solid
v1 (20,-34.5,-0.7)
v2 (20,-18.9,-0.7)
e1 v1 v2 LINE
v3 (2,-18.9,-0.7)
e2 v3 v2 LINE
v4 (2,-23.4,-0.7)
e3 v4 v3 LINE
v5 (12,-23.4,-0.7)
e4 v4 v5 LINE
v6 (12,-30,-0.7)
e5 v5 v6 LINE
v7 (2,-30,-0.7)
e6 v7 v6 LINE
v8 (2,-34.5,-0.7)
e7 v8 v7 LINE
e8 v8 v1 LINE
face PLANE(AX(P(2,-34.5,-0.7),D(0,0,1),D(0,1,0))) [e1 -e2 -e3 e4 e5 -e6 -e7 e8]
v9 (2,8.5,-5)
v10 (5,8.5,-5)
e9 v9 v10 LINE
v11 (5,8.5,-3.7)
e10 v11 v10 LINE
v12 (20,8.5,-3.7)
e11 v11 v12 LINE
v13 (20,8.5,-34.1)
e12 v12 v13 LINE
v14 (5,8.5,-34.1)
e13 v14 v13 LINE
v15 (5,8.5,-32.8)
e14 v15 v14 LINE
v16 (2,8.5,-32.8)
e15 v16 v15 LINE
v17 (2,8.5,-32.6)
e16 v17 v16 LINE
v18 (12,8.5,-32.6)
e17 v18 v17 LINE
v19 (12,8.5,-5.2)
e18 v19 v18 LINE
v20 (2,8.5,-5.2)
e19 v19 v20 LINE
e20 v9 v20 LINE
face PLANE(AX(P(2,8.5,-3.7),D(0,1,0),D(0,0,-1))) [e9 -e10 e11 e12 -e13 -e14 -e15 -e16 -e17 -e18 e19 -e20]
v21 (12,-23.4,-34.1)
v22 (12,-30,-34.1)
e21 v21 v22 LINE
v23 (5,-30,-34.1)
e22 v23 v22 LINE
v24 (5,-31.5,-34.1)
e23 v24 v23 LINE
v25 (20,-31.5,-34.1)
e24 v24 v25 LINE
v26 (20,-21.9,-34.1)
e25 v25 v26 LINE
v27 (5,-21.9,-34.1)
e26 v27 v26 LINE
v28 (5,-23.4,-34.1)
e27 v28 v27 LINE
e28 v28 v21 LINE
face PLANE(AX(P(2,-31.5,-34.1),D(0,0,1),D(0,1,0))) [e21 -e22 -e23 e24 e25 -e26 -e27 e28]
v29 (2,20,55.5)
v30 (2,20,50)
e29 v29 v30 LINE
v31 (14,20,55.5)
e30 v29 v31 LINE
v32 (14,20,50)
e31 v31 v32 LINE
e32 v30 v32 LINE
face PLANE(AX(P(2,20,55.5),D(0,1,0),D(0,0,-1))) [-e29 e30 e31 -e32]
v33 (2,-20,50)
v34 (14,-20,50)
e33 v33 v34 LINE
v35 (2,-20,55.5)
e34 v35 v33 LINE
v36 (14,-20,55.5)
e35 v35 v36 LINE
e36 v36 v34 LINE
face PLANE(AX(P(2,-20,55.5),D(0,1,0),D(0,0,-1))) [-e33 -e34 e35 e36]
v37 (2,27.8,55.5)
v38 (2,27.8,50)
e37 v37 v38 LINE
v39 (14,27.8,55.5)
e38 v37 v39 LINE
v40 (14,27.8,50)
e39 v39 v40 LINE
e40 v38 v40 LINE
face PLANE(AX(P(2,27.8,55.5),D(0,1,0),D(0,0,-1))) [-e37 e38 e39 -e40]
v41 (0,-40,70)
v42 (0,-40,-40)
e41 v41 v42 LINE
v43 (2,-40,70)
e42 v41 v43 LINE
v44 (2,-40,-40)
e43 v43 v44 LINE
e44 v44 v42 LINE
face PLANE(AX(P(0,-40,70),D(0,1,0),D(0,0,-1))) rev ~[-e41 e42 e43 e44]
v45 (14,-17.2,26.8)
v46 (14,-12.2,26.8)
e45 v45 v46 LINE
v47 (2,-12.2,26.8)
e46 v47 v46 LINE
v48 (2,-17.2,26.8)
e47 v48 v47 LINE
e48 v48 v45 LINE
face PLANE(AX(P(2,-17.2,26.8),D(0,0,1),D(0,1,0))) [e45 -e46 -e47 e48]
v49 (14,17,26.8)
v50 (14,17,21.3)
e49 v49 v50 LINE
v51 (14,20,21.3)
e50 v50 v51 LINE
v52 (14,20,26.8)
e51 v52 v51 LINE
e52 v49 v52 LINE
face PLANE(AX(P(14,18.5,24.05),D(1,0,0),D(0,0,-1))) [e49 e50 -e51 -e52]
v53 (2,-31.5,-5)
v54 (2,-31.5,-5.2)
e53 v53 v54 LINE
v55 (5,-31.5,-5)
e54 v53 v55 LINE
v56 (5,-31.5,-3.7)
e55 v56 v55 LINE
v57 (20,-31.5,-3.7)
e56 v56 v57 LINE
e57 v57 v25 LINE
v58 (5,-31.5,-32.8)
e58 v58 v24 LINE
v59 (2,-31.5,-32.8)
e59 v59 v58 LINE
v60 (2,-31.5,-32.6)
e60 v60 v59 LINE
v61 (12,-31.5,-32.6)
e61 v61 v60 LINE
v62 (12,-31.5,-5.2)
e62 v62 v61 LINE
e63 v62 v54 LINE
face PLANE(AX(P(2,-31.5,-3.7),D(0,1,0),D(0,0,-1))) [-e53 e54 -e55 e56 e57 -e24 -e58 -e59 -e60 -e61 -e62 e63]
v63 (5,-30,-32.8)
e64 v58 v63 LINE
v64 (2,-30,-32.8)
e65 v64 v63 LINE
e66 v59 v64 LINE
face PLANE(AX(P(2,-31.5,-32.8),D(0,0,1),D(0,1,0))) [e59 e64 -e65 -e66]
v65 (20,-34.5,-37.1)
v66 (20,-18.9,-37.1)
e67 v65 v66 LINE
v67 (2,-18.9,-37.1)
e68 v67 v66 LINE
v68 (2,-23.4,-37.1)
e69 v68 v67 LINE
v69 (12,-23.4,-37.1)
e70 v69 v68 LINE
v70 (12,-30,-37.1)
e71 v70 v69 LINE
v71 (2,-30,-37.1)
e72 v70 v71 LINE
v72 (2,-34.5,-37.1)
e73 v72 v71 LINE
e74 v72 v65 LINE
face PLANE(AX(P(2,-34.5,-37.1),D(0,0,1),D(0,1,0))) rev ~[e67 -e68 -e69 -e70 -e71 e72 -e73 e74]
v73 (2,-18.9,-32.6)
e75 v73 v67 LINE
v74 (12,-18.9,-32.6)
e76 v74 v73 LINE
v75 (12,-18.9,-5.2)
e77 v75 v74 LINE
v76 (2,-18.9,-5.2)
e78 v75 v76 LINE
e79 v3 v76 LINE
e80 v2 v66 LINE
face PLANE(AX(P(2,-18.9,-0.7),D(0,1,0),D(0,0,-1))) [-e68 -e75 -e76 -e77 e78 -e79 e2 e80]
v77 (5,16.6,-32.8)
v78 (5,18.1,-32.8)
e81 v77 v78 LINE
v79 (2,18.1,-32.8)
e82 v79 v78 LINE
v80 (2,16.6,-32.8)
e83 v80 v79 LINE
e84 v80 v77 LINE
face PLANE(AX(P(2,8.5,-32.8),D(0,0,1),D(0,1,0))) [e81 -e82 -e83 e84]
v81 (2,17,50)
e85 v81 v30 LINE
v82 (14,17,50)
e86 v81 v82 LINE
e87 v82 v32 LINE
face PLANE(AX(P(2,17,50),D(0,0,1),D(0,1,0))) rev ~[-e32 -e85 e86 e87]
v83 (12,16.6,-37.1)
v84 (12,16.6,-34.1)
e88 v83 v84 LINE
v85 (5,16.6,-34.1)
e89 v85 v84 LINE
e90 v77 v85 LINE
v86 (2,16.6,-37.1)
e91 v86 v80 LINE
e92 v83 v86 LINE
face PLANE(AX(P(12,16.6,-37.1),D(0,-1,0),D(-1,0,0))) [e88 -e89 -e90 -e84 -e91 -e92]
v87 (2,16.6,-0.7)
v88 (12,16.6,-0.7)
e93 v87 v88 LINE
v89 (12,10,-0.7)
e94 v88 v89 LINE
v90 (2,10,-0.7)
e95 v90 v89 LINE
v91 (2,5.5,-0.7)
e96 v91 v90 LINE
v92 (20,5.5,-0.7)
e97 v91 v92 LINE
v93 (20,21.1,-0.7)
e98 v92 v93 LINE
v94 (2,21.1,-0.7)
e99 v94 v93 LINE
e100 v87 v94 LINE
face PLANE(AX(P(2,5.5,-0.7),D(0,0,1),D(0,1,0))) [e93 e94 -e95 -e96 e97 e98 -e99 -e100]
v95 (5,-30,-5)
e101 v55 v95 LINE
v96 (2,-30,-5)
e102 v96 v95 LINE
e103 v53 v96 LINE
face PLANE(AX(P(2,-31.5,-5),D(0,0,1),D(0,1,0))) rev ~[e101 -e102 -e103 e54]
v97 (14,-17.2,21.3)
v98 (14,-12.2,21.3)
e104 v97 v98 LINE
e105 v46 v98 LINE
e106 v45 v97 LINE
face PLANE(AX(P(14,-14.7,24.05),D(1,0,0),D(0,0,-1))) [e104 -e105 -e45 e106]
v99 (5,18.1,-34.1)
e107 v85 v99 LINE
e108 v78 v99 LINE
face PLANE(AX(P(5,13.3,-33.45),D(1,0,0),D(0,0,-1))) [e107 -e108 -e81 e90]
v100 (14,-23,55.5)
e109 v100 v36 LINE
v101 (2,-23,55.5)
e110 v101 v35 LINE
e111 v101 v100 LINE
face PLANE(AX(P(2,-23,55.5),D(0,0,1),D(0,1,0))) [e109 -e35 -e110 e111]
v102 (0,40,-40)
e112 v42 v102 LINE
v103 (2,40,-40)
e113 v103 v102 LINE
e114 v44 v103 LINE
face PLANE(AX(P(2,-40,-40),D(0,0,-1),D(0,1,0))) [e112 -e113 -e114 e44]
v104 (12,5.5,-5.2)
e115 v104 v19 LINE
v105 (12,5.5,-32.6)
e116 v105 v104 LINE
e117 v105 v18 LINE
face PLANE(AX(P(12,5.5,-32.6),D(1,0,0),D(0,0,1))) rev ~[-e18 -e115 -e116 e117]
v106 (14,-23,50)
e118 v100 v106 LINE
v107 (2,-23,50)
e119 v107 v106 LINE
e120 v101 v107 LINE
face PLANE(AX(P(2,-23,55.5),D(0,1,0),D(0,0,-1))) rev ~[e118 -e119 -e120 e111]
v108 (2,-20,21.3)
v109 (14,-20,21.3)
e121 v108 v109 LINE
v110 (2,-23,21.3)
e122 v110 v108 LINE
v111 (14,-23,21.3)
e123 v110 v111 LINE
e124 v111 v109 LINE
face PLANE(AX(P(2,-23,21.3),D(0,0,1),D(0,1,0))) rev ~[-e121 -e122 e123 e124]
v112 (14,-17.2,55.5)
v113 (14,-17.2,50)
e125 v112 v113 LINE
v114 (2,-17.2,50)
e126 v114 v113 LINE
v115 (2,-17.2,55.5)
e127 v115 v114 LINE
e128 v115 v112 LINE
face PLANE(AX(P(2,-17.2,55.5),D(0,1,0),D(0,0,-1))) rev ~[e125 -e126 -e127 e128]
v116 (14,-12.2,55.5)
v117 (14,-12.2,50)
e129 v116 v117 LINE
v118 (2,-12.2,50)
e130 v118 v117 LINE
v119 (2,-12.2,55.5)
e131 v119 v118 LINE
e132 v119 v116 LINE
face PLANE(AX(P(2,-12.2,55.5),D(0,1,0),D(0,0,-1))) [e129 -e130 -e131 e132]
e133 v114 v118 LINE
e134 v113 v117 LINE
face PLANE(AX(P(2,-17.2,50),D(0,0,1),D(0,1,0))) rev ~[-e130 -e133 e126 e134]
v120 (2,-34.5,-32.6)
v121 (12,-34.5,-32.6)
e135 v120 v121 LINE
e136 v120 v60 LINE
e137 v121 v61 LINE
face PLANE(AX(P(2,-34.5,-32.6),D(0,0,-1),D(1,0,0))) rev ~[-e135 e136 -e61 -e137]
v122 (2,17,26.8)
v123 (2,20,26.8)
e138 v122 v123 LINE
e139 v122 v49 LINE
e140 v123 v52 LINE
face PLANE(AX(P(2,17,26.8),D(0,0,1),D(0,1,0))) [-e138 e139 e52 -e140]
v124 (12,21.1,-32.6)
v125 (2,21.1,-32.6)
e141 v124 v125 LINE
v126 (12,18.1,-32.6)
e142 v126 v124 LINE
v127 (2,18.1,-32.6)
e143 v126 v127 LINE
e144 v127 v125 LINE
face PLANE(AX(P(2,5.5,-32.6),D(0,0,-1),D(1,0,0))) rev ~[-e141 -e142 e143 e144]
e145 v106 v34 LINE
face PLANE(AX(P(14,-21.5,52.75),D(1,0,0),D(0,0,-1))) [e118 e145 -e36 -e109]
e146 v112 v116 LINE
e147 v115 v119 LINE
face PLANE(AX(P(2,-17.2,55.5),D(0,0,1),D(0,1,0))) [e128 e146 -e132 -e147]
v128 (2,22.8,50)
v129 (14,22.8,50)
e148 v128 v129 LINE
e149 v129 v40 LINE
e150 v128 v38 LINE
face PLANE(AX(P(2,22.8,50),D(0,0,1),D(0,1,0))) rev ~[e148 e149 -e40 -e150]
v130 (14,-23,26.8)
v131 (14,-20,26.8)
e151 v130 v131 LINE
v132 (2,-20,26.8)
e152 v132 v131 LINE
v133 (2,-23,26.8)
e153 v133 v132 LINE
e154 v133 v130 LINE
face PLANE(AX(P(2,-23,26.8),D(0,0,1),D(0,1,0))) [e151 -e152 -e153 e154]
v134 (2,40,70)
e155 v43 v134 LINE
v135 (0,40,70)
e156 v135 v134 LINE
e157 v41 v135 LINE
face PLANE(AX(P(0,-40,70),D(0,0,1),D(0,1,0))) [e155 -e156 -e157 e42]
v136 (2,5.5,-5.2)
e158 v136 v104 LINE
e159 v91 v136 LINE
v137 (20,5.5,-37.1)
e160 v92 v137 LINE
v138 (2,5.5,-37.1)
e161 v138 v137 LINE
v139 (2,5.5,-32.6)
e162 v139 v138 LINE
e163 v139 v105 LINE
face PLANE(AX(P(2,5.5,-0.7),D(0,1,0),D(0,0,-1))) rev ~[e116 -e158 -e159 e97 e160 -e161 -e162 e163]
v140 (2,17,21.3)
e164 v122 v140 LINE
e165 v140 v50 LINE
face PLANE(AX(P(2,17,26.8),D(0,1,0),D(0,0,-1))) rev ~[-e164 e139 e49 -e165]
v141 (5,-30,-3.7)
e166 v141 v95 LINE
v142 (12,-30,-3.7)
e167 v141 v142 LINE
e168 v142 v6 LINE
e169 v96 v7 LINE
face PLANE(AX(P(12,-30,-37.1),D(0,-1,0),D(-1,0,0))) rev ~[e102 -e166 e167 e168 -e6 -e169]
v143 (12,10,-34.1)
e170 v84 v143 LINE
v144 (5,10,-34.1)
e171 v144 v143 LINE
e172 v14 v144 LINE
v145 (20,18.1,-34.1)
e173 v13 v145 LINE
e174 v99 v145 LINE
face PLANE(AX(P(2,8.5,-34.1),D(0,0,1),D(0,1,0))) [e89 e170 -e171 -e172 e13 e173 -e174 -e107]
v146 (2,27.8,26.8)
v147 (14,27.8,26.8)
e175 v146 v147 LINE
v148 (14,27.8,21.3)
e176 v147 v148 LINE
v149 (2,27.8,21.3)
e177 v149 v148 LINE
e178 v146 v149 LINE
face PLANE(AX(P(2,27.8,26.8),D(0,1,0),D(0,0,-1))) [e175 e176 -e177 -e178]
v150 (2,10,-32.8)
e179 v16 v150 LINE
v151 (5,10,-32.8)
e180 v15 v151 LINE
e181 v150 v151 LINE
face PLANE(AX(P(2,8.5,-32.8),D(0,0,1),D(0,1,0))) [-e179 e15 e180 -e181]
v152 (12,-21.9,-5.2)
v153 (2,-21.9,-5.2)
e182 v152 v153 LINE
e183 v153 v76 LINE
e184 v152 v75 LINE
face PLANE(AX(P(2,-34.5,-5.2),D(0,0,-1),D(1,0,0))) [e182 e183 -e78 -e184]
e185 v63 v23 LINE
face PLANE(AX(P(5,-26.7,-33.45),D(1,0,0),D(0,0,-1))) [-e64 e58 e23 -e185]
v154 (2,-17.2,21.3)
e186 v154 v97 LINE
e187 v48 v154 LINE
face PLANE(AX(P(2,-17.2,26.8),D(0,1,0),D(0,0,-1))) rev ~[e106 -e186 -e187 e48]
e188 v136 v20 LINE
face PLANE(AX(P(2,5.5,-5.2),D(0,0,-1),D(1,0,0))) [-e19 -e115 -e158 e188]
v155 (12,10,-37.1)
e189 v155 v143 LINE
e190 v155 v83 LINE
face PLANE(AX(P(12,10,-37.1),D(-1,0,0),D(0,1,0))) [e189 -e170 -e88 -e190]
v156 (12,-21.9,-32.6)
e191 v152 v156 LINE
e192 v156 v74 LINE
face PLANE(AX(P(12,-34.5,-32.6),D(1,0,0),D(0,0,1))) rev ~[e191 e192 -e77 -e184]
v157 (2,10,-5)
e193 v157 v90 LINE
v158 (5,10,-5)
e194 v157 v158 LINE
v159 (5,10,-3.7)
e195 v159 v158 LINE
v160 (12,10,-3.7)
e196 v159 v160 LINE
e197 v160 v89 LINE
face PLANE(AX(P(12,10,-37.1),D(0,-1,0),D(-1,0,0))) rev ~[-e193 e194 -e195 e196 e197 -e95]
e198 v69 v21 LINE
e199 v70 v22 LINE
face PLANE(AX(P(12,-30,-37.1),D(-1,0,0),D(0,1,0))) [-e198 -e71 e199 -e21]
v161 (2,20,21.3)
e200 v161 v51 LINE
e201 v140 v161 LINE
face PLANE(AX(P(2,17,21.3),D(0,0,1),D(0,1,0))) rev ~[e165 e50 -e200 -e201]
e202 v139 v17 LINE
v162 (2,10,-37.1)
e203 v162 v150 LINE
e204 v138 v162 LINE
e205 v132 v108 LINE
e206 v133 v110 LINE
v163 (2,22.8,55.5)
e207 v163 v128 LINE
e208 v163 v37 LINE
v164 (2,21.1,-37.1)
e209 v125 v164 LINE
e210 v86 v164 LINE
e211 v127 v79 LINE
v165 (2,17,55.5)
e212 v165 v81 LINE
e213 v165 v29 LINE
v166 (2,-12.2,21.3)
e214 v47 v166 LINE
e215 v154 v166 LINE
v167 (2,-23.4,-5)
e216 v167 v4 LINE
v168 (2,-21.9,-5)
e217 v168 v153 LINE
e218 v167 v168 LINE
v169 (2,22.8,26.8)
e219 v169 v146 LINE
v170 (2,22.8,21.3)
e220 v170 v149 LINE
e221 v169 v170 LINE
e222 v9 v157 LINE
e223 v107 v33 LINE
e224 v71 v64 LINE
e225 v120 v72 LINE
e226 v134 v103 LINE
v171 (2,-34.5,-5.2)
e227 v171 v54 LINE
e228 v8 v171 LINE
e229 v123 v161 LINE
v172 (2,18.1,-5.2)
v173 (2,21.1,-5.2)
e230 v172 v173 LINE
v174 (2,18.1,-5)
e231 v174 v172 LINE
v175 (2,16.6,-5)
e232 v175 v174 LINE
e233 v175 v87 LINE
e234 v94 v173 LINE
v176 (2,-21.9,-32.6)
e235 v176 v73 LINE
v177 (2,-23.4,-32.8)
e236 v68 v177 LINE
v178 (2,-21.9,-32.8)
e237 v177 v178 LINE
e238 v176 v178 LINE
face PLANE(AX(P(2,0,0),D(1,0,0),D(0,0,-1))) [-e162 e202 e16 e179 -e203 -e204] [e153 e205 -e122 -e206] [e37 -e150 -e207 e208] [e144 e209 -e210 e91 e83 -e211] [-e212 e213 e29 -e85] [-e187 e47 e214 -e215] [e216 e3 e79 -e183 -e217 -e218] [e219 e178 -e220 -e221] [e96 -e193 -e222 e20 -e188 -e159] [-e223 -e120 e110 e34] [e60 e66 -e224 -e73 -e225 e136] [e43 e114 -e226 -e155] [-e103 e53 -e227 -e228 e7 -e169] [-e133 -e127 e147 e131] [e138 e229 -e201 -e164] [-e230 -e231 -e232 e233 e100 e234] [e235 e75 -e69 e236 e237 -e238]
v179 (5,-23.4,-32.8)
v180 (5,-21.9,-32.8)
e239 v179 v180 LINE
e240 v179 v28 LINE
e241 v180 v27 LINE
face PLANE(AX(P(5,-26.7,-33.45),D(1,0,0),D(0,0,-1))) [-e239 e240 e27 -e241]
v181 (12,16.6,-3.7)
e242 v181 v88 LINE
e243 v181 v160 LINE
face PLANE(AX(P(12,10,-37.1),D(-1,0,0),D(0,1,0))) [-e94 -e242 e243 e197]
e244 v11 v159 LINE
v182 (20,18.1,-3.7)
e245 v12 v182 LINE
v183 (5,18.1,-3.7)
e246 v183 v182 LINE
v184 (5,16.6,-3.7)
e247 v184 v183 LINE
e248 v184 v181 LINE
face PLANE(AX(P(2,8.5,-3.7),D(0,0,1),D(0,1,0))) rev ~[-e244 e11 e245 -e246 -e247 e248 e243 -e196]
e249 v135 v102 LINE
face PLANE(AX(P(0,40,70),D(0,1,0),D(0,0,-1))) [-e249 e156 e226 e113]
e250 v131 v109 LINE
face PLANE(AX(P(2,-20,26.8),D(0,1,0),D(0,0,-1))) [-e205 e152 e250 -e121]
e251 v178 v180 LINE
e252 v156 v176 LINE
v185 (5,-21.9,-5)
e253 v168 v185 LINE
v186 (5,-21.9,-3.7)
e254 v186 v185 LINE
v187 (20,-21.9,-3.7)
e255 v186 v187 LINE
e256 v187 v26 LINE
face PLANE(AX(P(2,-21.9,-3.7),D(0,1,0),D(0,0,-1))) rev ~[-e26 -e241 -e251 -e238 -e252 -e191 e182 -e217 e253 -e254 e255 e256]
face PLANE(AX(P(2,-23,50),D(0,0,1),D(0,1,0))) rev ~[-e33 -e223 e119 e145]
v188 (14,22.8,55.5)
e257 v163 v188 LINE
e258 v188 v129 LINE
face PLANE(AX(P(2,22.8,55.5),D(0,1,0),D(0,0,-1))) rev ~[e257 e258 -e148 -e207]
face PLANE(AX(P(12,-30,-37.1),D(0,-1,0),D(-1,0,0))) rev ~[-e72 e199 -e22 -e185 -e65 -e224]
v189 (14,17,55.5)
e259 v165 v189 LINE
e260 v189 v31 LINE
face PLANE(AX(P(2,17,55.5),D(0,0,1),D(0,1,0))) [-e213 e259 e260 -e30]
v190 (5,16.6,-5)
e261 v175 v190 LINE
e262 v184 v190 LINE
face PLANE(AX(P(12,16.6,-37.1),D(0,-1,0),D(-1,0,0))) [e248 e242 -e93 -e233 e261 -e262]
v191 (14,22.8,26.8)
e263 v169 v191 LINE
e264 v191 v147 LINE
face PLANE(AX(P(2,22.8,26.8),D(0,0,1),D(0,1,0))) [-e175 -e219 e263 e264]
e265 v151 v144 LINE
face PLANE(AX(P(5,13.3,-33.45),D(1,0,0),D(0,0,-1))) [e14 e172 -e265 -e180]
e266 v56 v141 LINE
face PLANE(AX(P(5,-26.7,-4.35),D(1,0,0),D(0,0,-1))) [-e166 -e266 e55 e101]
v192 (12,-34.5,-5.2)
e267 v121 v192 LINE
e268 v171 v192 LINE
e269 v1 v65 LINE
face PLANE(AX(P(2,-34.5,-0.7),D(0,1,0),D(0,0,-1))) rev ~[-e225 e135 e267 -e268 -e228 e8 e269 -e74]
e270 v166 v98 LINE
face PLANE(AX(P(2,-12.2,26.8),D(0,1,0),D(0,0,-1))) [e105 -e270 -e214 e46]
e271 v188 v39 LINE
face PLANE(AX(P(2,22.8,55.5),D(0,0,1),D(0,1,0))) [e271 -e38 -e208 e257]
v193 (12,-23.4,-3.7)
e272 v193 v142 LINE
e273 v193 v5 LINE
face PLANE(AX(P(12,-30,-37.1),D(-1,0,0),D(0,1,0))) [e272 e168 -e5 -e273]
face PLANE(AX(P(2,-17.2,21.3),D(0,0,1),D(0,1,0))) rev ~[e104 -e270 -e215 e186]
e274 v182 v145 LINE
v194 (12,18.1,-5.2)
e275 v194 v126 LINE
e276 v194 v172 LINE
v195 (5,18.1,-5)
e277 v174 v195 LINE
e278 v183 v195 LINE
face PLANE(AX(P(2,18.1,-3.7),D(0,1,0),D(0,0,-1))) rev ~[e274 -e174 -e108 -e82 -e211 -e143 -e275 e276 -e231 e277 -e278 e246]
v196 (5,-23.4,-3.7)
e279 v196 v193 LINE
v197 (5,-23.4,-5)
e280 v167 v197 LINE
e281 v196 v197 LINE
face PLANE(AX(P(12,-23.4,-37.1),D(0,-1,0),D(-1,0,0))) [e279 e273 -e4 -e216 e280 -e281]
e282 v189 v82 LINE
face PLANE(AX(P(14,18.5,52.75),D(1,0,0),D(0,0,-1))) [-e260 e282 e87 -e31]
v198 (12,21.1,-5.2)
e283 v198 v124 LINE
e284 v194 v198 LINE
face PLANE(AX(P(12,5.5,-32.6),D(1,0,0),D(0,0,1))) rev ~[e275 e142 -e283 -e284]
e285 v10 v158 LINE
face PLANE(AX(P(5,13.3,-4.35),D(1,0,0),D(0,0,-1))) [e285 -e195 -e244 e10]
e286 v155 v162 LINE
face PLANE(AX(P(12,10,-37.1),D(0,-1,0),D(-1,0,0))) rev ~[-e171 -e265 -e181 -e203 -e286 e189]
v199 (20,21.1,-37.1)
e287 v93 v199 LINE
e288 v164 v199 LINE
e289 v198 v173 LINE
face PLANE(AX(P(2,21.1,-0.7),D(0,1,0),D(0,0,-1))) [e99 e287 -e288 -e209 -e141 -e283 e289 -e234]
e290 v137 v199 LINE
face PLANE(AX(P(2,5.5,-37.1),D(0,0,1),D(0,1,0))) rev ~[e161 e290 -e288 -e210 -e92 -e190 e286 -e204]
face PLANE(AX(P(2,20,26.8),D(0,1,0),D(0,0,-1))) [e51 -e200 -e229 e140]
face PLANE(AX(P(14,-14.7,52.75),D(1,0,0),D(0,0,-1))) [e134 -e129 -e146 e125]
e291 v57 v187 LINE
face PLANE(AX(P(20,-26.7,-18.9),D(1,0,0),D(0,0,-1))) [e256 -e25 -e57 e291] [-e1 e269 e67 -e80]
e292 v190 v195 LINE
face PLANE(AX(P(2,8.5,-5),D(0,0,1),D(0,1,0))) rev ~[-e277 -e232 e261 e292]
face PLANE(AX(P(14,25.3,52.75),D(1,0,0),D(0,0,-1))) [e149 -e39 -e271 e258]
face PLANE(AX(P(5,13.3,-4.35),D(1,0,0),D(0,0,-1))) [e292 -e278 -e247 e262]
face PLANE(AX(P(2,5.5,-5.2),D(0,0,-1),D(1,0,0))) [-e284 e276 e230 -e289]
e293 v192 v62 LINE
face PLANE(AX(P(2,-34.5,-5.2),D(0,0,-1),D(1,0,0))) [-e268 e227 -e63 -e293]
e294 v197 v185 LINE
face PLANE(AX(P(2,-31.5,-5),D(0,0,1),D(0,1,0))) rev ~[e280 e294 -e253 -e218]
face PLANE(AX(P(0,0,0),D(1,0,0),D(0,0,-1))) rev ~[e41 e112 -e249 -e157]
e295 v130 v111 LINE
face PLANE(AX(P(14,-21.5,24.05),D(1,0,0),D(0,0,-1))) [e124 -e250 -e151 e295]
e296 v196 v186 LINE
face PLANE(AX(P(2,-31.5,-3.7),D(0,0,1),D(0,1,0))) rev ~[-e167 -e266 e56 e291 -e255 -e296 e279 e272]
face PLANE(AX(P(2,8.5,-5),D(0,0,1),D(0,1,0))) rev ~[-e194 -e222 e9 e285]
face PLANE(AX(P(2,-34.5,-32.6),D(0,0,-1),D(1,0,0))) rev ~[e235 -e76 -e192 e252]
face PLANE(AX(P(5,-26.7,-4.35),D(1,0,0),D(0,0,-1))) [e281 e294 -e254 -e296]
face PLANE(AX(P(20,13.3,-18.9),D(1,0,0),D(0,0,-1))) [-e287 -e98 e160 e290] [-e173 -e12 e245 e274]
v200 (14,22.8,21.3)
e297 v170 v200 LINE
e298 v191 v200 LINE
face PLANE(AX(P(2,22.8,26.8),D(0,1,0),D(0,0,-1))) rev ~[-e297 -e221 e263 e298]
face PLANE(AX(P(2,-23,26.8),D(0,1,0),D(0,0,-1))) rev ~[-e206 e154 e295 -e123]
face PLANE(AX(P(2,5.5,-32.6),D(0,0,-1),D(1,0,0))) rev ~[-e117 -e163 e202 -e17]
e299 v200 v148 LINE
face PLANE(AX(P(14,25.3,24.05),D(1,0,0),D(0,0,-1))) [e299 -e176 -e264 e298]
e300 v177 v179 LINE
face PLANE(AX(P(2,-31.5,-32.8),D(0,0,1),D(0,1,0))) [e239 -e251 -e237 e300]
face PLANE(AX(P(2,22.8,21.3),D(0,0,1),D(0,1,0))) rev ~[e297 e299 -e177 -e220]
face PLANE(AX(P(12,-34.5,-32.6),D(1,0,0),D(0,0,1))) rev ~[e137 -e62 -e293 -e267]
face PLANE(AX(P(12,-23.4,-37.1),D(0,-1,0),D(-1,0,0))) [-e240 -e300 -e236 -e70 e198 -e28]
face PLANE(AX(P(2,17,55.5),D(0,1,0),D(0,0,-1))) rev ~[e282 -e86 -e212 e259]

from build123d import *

# Parameters (mm, degrees)
SKETCH_1_W             = 140
SKETCH_1_H             = 80
EXTRUDE_1_DEPTH        = 2
SKETCH_2_W             = 5.5
SKETCH_2_H             = 5
SKETCH_2_H_2           = 3
EXTRUDE_2_DEPTH        = 12
SKETCH_3_W             = 30
SKETCH_3_H             = 80
CUT_EXTRUDE_1_DEPTH    = 3
SKETCH_4_W             = 36.4
SKETCH_4_H             = 15.6
SKETCH_4_W_2           = 30.4
SKETCH_4_H_2           = 9.6
EXTRUDE_3_DEPTH        = 18
SKETCH_5_W             = 10
SKETCH_5_H             = 27.4
CUT_EXTRUDE_2_DEPTH    = 20
SKETCH_6_W             = 1.3
SKETCH_6_H             = 9.6
EXTRUDE_4_DEPTH        = 3
SKETCH_8_W             = 10
SKETCH_8_H             = 6.6
CUT_EXTRUDE_3_DEPTH    = 40
PATTERN_LINEAR_1_COUNT = 2
PATTERN_LINEAR_1_PITCH = 40


with BuildPart() as part:
    # 草图1 → 凸台-拉伸1 (new body)
    with BuildSketch(Plane(origin=(0, 0, 0), x_dir=(0, 0, -1), z_dir=(1, 0, 0))):
        Rectangle(SKETCH_1_W, SKETCH_1_H)
    extrude(amount=EXTRUDE_1_DEPTH)

    # 草图2 → 凸台-拉伸2 (add)
    with BuildSketch(Plane(origin=(2, 0, 0), x_dir=(0, 0, -1), z_dir=(1, 0, 0))):
        with Locations((-24.05, -14.7)):
            Rectangle(SKETCH_2_W, SKETCH_2_H)
        with Locations((-52.75, -14.7)):
            Rectangle(SKETCH_2_W, SKETCH_2_H)
        with Locations((-24.05, -21.5)):
            Rectangle(SKETCH_2_W, SKETCH_2_H_2)
        with Locations((-52.75, 18.5)):
            Rectangle(SKETCH_2_W, SKETCH_2_H_2)
        with Locations((-24.05, 25.3)):
            Rectangle(SKETCH_2_W, SKETCH_2_H)
        with Locations((-52.75, -21.5)):
            Rectangle(SKETCH_2_W, SKETCH_2_H_2)
        with Locations((-24.05, 18.5)):
            Rectangle(SKETCH_2_W, SKETCH_2_H_2)
        with Locations((-52.75, 25.3)):
            Rectangle(SKETCH_2_W, SKETCH_2_H)
    extrude(amount=EXTRUDE_2_DEPTH)

    # 草图3 → 切除-拉伸1 (cut)
    with BuildSketch(Plane(origin=(2, 0, 0), x_dir=(0, 0, -1), z_dir=(1, 0, 0))):
        with Locations((55, 0)):
            Rectangle(SKETCH_3_W, SKETCH_3_H)
    extrude(amount=-CUT_EXTRUDE_1_DEPTH, mode=Mode.SUBTRACT)

    # 草图4 → 凸台-拉伸3 (add)
    with BuildSketch(Plane(origin=(2, 0, 0), x_dir=(0, 0, -1), z_dir=(1, 0, 0))):
        with Locations((18.9, -26.7)):
            Rectangle(SKETCH_4_W, SKETCH_4_H)
        with Locations((18.9, -26.7)):
            Rectangle(SKETCH_4_W_2, SKETCH_4_H_2, mode=Mode.SUBTRACT)
    extrude_3 = extrude(amount=EXTRUDE_3_DEPTH)

    # 草图5 → 切除-拉伸2 (cut)
    with BuildSketch(Plane.XZ.offset(34.5)):
        with Locations((7, -18.9)):
            Rectangle(SKETCH_5_W, SKETCH_5_H)
    cut_extrude_2 = extrude(amount=-CUT_EXTRUDE_2_DEPTH, mode=Mode.SUBTRACT)

    # 草图6 → 凸台-拉伸4 (add)
    with BuildSketch(Plane(origin=(2, 0, 0), x_dir=(0, 0, -1), z_dir=(1, 0, 0))):
        with Locations((4.35, -26.7)):
            Rectangle(SKETCH_6_W, SKETCH_6_H)
        with Locations((33.45, -26.7)):
            Rectangle(SKETCH_6_W, SKETCH_6_H)
    extrude_4 = extrude(amount=EXTRUDE_4_DEPTH)

    # 草图8 → 切除-拉伸3 (cut)
    with BuildSketch(Plane(origin=(0, 0, -37.1), x_dir=(-1, 0, 0), z_dir=(0, 0, -1))):
        with Locations((-7, -26.7)):
            Rectangle(SKETCH_8_W, SKETCH_8_H)
    cut_extrude_3 = extrude(amount=-CUT_EXTRUDE_3_DEPTH, mode=Mode.SUBTRACT)

    # 阵列(线性)1: 凸台-拉伸3, 切除-拉伸2, 凸台-拉伸4, 切除-拉伸3 ×2
    with Locations(*[(0, i * PATTERN_LINEAR_1_PITCH, 0) for i in range(1, PATTERN_LINEAR_1_COUNT)]):
        add(extrude_3)
        add(cut_extrude_2, mode=Mode.SUBTRACT)
        add(extrude_4)
        add(cut_extrude_3, mode=Mode.SUBTRACT)


solid = part.part
